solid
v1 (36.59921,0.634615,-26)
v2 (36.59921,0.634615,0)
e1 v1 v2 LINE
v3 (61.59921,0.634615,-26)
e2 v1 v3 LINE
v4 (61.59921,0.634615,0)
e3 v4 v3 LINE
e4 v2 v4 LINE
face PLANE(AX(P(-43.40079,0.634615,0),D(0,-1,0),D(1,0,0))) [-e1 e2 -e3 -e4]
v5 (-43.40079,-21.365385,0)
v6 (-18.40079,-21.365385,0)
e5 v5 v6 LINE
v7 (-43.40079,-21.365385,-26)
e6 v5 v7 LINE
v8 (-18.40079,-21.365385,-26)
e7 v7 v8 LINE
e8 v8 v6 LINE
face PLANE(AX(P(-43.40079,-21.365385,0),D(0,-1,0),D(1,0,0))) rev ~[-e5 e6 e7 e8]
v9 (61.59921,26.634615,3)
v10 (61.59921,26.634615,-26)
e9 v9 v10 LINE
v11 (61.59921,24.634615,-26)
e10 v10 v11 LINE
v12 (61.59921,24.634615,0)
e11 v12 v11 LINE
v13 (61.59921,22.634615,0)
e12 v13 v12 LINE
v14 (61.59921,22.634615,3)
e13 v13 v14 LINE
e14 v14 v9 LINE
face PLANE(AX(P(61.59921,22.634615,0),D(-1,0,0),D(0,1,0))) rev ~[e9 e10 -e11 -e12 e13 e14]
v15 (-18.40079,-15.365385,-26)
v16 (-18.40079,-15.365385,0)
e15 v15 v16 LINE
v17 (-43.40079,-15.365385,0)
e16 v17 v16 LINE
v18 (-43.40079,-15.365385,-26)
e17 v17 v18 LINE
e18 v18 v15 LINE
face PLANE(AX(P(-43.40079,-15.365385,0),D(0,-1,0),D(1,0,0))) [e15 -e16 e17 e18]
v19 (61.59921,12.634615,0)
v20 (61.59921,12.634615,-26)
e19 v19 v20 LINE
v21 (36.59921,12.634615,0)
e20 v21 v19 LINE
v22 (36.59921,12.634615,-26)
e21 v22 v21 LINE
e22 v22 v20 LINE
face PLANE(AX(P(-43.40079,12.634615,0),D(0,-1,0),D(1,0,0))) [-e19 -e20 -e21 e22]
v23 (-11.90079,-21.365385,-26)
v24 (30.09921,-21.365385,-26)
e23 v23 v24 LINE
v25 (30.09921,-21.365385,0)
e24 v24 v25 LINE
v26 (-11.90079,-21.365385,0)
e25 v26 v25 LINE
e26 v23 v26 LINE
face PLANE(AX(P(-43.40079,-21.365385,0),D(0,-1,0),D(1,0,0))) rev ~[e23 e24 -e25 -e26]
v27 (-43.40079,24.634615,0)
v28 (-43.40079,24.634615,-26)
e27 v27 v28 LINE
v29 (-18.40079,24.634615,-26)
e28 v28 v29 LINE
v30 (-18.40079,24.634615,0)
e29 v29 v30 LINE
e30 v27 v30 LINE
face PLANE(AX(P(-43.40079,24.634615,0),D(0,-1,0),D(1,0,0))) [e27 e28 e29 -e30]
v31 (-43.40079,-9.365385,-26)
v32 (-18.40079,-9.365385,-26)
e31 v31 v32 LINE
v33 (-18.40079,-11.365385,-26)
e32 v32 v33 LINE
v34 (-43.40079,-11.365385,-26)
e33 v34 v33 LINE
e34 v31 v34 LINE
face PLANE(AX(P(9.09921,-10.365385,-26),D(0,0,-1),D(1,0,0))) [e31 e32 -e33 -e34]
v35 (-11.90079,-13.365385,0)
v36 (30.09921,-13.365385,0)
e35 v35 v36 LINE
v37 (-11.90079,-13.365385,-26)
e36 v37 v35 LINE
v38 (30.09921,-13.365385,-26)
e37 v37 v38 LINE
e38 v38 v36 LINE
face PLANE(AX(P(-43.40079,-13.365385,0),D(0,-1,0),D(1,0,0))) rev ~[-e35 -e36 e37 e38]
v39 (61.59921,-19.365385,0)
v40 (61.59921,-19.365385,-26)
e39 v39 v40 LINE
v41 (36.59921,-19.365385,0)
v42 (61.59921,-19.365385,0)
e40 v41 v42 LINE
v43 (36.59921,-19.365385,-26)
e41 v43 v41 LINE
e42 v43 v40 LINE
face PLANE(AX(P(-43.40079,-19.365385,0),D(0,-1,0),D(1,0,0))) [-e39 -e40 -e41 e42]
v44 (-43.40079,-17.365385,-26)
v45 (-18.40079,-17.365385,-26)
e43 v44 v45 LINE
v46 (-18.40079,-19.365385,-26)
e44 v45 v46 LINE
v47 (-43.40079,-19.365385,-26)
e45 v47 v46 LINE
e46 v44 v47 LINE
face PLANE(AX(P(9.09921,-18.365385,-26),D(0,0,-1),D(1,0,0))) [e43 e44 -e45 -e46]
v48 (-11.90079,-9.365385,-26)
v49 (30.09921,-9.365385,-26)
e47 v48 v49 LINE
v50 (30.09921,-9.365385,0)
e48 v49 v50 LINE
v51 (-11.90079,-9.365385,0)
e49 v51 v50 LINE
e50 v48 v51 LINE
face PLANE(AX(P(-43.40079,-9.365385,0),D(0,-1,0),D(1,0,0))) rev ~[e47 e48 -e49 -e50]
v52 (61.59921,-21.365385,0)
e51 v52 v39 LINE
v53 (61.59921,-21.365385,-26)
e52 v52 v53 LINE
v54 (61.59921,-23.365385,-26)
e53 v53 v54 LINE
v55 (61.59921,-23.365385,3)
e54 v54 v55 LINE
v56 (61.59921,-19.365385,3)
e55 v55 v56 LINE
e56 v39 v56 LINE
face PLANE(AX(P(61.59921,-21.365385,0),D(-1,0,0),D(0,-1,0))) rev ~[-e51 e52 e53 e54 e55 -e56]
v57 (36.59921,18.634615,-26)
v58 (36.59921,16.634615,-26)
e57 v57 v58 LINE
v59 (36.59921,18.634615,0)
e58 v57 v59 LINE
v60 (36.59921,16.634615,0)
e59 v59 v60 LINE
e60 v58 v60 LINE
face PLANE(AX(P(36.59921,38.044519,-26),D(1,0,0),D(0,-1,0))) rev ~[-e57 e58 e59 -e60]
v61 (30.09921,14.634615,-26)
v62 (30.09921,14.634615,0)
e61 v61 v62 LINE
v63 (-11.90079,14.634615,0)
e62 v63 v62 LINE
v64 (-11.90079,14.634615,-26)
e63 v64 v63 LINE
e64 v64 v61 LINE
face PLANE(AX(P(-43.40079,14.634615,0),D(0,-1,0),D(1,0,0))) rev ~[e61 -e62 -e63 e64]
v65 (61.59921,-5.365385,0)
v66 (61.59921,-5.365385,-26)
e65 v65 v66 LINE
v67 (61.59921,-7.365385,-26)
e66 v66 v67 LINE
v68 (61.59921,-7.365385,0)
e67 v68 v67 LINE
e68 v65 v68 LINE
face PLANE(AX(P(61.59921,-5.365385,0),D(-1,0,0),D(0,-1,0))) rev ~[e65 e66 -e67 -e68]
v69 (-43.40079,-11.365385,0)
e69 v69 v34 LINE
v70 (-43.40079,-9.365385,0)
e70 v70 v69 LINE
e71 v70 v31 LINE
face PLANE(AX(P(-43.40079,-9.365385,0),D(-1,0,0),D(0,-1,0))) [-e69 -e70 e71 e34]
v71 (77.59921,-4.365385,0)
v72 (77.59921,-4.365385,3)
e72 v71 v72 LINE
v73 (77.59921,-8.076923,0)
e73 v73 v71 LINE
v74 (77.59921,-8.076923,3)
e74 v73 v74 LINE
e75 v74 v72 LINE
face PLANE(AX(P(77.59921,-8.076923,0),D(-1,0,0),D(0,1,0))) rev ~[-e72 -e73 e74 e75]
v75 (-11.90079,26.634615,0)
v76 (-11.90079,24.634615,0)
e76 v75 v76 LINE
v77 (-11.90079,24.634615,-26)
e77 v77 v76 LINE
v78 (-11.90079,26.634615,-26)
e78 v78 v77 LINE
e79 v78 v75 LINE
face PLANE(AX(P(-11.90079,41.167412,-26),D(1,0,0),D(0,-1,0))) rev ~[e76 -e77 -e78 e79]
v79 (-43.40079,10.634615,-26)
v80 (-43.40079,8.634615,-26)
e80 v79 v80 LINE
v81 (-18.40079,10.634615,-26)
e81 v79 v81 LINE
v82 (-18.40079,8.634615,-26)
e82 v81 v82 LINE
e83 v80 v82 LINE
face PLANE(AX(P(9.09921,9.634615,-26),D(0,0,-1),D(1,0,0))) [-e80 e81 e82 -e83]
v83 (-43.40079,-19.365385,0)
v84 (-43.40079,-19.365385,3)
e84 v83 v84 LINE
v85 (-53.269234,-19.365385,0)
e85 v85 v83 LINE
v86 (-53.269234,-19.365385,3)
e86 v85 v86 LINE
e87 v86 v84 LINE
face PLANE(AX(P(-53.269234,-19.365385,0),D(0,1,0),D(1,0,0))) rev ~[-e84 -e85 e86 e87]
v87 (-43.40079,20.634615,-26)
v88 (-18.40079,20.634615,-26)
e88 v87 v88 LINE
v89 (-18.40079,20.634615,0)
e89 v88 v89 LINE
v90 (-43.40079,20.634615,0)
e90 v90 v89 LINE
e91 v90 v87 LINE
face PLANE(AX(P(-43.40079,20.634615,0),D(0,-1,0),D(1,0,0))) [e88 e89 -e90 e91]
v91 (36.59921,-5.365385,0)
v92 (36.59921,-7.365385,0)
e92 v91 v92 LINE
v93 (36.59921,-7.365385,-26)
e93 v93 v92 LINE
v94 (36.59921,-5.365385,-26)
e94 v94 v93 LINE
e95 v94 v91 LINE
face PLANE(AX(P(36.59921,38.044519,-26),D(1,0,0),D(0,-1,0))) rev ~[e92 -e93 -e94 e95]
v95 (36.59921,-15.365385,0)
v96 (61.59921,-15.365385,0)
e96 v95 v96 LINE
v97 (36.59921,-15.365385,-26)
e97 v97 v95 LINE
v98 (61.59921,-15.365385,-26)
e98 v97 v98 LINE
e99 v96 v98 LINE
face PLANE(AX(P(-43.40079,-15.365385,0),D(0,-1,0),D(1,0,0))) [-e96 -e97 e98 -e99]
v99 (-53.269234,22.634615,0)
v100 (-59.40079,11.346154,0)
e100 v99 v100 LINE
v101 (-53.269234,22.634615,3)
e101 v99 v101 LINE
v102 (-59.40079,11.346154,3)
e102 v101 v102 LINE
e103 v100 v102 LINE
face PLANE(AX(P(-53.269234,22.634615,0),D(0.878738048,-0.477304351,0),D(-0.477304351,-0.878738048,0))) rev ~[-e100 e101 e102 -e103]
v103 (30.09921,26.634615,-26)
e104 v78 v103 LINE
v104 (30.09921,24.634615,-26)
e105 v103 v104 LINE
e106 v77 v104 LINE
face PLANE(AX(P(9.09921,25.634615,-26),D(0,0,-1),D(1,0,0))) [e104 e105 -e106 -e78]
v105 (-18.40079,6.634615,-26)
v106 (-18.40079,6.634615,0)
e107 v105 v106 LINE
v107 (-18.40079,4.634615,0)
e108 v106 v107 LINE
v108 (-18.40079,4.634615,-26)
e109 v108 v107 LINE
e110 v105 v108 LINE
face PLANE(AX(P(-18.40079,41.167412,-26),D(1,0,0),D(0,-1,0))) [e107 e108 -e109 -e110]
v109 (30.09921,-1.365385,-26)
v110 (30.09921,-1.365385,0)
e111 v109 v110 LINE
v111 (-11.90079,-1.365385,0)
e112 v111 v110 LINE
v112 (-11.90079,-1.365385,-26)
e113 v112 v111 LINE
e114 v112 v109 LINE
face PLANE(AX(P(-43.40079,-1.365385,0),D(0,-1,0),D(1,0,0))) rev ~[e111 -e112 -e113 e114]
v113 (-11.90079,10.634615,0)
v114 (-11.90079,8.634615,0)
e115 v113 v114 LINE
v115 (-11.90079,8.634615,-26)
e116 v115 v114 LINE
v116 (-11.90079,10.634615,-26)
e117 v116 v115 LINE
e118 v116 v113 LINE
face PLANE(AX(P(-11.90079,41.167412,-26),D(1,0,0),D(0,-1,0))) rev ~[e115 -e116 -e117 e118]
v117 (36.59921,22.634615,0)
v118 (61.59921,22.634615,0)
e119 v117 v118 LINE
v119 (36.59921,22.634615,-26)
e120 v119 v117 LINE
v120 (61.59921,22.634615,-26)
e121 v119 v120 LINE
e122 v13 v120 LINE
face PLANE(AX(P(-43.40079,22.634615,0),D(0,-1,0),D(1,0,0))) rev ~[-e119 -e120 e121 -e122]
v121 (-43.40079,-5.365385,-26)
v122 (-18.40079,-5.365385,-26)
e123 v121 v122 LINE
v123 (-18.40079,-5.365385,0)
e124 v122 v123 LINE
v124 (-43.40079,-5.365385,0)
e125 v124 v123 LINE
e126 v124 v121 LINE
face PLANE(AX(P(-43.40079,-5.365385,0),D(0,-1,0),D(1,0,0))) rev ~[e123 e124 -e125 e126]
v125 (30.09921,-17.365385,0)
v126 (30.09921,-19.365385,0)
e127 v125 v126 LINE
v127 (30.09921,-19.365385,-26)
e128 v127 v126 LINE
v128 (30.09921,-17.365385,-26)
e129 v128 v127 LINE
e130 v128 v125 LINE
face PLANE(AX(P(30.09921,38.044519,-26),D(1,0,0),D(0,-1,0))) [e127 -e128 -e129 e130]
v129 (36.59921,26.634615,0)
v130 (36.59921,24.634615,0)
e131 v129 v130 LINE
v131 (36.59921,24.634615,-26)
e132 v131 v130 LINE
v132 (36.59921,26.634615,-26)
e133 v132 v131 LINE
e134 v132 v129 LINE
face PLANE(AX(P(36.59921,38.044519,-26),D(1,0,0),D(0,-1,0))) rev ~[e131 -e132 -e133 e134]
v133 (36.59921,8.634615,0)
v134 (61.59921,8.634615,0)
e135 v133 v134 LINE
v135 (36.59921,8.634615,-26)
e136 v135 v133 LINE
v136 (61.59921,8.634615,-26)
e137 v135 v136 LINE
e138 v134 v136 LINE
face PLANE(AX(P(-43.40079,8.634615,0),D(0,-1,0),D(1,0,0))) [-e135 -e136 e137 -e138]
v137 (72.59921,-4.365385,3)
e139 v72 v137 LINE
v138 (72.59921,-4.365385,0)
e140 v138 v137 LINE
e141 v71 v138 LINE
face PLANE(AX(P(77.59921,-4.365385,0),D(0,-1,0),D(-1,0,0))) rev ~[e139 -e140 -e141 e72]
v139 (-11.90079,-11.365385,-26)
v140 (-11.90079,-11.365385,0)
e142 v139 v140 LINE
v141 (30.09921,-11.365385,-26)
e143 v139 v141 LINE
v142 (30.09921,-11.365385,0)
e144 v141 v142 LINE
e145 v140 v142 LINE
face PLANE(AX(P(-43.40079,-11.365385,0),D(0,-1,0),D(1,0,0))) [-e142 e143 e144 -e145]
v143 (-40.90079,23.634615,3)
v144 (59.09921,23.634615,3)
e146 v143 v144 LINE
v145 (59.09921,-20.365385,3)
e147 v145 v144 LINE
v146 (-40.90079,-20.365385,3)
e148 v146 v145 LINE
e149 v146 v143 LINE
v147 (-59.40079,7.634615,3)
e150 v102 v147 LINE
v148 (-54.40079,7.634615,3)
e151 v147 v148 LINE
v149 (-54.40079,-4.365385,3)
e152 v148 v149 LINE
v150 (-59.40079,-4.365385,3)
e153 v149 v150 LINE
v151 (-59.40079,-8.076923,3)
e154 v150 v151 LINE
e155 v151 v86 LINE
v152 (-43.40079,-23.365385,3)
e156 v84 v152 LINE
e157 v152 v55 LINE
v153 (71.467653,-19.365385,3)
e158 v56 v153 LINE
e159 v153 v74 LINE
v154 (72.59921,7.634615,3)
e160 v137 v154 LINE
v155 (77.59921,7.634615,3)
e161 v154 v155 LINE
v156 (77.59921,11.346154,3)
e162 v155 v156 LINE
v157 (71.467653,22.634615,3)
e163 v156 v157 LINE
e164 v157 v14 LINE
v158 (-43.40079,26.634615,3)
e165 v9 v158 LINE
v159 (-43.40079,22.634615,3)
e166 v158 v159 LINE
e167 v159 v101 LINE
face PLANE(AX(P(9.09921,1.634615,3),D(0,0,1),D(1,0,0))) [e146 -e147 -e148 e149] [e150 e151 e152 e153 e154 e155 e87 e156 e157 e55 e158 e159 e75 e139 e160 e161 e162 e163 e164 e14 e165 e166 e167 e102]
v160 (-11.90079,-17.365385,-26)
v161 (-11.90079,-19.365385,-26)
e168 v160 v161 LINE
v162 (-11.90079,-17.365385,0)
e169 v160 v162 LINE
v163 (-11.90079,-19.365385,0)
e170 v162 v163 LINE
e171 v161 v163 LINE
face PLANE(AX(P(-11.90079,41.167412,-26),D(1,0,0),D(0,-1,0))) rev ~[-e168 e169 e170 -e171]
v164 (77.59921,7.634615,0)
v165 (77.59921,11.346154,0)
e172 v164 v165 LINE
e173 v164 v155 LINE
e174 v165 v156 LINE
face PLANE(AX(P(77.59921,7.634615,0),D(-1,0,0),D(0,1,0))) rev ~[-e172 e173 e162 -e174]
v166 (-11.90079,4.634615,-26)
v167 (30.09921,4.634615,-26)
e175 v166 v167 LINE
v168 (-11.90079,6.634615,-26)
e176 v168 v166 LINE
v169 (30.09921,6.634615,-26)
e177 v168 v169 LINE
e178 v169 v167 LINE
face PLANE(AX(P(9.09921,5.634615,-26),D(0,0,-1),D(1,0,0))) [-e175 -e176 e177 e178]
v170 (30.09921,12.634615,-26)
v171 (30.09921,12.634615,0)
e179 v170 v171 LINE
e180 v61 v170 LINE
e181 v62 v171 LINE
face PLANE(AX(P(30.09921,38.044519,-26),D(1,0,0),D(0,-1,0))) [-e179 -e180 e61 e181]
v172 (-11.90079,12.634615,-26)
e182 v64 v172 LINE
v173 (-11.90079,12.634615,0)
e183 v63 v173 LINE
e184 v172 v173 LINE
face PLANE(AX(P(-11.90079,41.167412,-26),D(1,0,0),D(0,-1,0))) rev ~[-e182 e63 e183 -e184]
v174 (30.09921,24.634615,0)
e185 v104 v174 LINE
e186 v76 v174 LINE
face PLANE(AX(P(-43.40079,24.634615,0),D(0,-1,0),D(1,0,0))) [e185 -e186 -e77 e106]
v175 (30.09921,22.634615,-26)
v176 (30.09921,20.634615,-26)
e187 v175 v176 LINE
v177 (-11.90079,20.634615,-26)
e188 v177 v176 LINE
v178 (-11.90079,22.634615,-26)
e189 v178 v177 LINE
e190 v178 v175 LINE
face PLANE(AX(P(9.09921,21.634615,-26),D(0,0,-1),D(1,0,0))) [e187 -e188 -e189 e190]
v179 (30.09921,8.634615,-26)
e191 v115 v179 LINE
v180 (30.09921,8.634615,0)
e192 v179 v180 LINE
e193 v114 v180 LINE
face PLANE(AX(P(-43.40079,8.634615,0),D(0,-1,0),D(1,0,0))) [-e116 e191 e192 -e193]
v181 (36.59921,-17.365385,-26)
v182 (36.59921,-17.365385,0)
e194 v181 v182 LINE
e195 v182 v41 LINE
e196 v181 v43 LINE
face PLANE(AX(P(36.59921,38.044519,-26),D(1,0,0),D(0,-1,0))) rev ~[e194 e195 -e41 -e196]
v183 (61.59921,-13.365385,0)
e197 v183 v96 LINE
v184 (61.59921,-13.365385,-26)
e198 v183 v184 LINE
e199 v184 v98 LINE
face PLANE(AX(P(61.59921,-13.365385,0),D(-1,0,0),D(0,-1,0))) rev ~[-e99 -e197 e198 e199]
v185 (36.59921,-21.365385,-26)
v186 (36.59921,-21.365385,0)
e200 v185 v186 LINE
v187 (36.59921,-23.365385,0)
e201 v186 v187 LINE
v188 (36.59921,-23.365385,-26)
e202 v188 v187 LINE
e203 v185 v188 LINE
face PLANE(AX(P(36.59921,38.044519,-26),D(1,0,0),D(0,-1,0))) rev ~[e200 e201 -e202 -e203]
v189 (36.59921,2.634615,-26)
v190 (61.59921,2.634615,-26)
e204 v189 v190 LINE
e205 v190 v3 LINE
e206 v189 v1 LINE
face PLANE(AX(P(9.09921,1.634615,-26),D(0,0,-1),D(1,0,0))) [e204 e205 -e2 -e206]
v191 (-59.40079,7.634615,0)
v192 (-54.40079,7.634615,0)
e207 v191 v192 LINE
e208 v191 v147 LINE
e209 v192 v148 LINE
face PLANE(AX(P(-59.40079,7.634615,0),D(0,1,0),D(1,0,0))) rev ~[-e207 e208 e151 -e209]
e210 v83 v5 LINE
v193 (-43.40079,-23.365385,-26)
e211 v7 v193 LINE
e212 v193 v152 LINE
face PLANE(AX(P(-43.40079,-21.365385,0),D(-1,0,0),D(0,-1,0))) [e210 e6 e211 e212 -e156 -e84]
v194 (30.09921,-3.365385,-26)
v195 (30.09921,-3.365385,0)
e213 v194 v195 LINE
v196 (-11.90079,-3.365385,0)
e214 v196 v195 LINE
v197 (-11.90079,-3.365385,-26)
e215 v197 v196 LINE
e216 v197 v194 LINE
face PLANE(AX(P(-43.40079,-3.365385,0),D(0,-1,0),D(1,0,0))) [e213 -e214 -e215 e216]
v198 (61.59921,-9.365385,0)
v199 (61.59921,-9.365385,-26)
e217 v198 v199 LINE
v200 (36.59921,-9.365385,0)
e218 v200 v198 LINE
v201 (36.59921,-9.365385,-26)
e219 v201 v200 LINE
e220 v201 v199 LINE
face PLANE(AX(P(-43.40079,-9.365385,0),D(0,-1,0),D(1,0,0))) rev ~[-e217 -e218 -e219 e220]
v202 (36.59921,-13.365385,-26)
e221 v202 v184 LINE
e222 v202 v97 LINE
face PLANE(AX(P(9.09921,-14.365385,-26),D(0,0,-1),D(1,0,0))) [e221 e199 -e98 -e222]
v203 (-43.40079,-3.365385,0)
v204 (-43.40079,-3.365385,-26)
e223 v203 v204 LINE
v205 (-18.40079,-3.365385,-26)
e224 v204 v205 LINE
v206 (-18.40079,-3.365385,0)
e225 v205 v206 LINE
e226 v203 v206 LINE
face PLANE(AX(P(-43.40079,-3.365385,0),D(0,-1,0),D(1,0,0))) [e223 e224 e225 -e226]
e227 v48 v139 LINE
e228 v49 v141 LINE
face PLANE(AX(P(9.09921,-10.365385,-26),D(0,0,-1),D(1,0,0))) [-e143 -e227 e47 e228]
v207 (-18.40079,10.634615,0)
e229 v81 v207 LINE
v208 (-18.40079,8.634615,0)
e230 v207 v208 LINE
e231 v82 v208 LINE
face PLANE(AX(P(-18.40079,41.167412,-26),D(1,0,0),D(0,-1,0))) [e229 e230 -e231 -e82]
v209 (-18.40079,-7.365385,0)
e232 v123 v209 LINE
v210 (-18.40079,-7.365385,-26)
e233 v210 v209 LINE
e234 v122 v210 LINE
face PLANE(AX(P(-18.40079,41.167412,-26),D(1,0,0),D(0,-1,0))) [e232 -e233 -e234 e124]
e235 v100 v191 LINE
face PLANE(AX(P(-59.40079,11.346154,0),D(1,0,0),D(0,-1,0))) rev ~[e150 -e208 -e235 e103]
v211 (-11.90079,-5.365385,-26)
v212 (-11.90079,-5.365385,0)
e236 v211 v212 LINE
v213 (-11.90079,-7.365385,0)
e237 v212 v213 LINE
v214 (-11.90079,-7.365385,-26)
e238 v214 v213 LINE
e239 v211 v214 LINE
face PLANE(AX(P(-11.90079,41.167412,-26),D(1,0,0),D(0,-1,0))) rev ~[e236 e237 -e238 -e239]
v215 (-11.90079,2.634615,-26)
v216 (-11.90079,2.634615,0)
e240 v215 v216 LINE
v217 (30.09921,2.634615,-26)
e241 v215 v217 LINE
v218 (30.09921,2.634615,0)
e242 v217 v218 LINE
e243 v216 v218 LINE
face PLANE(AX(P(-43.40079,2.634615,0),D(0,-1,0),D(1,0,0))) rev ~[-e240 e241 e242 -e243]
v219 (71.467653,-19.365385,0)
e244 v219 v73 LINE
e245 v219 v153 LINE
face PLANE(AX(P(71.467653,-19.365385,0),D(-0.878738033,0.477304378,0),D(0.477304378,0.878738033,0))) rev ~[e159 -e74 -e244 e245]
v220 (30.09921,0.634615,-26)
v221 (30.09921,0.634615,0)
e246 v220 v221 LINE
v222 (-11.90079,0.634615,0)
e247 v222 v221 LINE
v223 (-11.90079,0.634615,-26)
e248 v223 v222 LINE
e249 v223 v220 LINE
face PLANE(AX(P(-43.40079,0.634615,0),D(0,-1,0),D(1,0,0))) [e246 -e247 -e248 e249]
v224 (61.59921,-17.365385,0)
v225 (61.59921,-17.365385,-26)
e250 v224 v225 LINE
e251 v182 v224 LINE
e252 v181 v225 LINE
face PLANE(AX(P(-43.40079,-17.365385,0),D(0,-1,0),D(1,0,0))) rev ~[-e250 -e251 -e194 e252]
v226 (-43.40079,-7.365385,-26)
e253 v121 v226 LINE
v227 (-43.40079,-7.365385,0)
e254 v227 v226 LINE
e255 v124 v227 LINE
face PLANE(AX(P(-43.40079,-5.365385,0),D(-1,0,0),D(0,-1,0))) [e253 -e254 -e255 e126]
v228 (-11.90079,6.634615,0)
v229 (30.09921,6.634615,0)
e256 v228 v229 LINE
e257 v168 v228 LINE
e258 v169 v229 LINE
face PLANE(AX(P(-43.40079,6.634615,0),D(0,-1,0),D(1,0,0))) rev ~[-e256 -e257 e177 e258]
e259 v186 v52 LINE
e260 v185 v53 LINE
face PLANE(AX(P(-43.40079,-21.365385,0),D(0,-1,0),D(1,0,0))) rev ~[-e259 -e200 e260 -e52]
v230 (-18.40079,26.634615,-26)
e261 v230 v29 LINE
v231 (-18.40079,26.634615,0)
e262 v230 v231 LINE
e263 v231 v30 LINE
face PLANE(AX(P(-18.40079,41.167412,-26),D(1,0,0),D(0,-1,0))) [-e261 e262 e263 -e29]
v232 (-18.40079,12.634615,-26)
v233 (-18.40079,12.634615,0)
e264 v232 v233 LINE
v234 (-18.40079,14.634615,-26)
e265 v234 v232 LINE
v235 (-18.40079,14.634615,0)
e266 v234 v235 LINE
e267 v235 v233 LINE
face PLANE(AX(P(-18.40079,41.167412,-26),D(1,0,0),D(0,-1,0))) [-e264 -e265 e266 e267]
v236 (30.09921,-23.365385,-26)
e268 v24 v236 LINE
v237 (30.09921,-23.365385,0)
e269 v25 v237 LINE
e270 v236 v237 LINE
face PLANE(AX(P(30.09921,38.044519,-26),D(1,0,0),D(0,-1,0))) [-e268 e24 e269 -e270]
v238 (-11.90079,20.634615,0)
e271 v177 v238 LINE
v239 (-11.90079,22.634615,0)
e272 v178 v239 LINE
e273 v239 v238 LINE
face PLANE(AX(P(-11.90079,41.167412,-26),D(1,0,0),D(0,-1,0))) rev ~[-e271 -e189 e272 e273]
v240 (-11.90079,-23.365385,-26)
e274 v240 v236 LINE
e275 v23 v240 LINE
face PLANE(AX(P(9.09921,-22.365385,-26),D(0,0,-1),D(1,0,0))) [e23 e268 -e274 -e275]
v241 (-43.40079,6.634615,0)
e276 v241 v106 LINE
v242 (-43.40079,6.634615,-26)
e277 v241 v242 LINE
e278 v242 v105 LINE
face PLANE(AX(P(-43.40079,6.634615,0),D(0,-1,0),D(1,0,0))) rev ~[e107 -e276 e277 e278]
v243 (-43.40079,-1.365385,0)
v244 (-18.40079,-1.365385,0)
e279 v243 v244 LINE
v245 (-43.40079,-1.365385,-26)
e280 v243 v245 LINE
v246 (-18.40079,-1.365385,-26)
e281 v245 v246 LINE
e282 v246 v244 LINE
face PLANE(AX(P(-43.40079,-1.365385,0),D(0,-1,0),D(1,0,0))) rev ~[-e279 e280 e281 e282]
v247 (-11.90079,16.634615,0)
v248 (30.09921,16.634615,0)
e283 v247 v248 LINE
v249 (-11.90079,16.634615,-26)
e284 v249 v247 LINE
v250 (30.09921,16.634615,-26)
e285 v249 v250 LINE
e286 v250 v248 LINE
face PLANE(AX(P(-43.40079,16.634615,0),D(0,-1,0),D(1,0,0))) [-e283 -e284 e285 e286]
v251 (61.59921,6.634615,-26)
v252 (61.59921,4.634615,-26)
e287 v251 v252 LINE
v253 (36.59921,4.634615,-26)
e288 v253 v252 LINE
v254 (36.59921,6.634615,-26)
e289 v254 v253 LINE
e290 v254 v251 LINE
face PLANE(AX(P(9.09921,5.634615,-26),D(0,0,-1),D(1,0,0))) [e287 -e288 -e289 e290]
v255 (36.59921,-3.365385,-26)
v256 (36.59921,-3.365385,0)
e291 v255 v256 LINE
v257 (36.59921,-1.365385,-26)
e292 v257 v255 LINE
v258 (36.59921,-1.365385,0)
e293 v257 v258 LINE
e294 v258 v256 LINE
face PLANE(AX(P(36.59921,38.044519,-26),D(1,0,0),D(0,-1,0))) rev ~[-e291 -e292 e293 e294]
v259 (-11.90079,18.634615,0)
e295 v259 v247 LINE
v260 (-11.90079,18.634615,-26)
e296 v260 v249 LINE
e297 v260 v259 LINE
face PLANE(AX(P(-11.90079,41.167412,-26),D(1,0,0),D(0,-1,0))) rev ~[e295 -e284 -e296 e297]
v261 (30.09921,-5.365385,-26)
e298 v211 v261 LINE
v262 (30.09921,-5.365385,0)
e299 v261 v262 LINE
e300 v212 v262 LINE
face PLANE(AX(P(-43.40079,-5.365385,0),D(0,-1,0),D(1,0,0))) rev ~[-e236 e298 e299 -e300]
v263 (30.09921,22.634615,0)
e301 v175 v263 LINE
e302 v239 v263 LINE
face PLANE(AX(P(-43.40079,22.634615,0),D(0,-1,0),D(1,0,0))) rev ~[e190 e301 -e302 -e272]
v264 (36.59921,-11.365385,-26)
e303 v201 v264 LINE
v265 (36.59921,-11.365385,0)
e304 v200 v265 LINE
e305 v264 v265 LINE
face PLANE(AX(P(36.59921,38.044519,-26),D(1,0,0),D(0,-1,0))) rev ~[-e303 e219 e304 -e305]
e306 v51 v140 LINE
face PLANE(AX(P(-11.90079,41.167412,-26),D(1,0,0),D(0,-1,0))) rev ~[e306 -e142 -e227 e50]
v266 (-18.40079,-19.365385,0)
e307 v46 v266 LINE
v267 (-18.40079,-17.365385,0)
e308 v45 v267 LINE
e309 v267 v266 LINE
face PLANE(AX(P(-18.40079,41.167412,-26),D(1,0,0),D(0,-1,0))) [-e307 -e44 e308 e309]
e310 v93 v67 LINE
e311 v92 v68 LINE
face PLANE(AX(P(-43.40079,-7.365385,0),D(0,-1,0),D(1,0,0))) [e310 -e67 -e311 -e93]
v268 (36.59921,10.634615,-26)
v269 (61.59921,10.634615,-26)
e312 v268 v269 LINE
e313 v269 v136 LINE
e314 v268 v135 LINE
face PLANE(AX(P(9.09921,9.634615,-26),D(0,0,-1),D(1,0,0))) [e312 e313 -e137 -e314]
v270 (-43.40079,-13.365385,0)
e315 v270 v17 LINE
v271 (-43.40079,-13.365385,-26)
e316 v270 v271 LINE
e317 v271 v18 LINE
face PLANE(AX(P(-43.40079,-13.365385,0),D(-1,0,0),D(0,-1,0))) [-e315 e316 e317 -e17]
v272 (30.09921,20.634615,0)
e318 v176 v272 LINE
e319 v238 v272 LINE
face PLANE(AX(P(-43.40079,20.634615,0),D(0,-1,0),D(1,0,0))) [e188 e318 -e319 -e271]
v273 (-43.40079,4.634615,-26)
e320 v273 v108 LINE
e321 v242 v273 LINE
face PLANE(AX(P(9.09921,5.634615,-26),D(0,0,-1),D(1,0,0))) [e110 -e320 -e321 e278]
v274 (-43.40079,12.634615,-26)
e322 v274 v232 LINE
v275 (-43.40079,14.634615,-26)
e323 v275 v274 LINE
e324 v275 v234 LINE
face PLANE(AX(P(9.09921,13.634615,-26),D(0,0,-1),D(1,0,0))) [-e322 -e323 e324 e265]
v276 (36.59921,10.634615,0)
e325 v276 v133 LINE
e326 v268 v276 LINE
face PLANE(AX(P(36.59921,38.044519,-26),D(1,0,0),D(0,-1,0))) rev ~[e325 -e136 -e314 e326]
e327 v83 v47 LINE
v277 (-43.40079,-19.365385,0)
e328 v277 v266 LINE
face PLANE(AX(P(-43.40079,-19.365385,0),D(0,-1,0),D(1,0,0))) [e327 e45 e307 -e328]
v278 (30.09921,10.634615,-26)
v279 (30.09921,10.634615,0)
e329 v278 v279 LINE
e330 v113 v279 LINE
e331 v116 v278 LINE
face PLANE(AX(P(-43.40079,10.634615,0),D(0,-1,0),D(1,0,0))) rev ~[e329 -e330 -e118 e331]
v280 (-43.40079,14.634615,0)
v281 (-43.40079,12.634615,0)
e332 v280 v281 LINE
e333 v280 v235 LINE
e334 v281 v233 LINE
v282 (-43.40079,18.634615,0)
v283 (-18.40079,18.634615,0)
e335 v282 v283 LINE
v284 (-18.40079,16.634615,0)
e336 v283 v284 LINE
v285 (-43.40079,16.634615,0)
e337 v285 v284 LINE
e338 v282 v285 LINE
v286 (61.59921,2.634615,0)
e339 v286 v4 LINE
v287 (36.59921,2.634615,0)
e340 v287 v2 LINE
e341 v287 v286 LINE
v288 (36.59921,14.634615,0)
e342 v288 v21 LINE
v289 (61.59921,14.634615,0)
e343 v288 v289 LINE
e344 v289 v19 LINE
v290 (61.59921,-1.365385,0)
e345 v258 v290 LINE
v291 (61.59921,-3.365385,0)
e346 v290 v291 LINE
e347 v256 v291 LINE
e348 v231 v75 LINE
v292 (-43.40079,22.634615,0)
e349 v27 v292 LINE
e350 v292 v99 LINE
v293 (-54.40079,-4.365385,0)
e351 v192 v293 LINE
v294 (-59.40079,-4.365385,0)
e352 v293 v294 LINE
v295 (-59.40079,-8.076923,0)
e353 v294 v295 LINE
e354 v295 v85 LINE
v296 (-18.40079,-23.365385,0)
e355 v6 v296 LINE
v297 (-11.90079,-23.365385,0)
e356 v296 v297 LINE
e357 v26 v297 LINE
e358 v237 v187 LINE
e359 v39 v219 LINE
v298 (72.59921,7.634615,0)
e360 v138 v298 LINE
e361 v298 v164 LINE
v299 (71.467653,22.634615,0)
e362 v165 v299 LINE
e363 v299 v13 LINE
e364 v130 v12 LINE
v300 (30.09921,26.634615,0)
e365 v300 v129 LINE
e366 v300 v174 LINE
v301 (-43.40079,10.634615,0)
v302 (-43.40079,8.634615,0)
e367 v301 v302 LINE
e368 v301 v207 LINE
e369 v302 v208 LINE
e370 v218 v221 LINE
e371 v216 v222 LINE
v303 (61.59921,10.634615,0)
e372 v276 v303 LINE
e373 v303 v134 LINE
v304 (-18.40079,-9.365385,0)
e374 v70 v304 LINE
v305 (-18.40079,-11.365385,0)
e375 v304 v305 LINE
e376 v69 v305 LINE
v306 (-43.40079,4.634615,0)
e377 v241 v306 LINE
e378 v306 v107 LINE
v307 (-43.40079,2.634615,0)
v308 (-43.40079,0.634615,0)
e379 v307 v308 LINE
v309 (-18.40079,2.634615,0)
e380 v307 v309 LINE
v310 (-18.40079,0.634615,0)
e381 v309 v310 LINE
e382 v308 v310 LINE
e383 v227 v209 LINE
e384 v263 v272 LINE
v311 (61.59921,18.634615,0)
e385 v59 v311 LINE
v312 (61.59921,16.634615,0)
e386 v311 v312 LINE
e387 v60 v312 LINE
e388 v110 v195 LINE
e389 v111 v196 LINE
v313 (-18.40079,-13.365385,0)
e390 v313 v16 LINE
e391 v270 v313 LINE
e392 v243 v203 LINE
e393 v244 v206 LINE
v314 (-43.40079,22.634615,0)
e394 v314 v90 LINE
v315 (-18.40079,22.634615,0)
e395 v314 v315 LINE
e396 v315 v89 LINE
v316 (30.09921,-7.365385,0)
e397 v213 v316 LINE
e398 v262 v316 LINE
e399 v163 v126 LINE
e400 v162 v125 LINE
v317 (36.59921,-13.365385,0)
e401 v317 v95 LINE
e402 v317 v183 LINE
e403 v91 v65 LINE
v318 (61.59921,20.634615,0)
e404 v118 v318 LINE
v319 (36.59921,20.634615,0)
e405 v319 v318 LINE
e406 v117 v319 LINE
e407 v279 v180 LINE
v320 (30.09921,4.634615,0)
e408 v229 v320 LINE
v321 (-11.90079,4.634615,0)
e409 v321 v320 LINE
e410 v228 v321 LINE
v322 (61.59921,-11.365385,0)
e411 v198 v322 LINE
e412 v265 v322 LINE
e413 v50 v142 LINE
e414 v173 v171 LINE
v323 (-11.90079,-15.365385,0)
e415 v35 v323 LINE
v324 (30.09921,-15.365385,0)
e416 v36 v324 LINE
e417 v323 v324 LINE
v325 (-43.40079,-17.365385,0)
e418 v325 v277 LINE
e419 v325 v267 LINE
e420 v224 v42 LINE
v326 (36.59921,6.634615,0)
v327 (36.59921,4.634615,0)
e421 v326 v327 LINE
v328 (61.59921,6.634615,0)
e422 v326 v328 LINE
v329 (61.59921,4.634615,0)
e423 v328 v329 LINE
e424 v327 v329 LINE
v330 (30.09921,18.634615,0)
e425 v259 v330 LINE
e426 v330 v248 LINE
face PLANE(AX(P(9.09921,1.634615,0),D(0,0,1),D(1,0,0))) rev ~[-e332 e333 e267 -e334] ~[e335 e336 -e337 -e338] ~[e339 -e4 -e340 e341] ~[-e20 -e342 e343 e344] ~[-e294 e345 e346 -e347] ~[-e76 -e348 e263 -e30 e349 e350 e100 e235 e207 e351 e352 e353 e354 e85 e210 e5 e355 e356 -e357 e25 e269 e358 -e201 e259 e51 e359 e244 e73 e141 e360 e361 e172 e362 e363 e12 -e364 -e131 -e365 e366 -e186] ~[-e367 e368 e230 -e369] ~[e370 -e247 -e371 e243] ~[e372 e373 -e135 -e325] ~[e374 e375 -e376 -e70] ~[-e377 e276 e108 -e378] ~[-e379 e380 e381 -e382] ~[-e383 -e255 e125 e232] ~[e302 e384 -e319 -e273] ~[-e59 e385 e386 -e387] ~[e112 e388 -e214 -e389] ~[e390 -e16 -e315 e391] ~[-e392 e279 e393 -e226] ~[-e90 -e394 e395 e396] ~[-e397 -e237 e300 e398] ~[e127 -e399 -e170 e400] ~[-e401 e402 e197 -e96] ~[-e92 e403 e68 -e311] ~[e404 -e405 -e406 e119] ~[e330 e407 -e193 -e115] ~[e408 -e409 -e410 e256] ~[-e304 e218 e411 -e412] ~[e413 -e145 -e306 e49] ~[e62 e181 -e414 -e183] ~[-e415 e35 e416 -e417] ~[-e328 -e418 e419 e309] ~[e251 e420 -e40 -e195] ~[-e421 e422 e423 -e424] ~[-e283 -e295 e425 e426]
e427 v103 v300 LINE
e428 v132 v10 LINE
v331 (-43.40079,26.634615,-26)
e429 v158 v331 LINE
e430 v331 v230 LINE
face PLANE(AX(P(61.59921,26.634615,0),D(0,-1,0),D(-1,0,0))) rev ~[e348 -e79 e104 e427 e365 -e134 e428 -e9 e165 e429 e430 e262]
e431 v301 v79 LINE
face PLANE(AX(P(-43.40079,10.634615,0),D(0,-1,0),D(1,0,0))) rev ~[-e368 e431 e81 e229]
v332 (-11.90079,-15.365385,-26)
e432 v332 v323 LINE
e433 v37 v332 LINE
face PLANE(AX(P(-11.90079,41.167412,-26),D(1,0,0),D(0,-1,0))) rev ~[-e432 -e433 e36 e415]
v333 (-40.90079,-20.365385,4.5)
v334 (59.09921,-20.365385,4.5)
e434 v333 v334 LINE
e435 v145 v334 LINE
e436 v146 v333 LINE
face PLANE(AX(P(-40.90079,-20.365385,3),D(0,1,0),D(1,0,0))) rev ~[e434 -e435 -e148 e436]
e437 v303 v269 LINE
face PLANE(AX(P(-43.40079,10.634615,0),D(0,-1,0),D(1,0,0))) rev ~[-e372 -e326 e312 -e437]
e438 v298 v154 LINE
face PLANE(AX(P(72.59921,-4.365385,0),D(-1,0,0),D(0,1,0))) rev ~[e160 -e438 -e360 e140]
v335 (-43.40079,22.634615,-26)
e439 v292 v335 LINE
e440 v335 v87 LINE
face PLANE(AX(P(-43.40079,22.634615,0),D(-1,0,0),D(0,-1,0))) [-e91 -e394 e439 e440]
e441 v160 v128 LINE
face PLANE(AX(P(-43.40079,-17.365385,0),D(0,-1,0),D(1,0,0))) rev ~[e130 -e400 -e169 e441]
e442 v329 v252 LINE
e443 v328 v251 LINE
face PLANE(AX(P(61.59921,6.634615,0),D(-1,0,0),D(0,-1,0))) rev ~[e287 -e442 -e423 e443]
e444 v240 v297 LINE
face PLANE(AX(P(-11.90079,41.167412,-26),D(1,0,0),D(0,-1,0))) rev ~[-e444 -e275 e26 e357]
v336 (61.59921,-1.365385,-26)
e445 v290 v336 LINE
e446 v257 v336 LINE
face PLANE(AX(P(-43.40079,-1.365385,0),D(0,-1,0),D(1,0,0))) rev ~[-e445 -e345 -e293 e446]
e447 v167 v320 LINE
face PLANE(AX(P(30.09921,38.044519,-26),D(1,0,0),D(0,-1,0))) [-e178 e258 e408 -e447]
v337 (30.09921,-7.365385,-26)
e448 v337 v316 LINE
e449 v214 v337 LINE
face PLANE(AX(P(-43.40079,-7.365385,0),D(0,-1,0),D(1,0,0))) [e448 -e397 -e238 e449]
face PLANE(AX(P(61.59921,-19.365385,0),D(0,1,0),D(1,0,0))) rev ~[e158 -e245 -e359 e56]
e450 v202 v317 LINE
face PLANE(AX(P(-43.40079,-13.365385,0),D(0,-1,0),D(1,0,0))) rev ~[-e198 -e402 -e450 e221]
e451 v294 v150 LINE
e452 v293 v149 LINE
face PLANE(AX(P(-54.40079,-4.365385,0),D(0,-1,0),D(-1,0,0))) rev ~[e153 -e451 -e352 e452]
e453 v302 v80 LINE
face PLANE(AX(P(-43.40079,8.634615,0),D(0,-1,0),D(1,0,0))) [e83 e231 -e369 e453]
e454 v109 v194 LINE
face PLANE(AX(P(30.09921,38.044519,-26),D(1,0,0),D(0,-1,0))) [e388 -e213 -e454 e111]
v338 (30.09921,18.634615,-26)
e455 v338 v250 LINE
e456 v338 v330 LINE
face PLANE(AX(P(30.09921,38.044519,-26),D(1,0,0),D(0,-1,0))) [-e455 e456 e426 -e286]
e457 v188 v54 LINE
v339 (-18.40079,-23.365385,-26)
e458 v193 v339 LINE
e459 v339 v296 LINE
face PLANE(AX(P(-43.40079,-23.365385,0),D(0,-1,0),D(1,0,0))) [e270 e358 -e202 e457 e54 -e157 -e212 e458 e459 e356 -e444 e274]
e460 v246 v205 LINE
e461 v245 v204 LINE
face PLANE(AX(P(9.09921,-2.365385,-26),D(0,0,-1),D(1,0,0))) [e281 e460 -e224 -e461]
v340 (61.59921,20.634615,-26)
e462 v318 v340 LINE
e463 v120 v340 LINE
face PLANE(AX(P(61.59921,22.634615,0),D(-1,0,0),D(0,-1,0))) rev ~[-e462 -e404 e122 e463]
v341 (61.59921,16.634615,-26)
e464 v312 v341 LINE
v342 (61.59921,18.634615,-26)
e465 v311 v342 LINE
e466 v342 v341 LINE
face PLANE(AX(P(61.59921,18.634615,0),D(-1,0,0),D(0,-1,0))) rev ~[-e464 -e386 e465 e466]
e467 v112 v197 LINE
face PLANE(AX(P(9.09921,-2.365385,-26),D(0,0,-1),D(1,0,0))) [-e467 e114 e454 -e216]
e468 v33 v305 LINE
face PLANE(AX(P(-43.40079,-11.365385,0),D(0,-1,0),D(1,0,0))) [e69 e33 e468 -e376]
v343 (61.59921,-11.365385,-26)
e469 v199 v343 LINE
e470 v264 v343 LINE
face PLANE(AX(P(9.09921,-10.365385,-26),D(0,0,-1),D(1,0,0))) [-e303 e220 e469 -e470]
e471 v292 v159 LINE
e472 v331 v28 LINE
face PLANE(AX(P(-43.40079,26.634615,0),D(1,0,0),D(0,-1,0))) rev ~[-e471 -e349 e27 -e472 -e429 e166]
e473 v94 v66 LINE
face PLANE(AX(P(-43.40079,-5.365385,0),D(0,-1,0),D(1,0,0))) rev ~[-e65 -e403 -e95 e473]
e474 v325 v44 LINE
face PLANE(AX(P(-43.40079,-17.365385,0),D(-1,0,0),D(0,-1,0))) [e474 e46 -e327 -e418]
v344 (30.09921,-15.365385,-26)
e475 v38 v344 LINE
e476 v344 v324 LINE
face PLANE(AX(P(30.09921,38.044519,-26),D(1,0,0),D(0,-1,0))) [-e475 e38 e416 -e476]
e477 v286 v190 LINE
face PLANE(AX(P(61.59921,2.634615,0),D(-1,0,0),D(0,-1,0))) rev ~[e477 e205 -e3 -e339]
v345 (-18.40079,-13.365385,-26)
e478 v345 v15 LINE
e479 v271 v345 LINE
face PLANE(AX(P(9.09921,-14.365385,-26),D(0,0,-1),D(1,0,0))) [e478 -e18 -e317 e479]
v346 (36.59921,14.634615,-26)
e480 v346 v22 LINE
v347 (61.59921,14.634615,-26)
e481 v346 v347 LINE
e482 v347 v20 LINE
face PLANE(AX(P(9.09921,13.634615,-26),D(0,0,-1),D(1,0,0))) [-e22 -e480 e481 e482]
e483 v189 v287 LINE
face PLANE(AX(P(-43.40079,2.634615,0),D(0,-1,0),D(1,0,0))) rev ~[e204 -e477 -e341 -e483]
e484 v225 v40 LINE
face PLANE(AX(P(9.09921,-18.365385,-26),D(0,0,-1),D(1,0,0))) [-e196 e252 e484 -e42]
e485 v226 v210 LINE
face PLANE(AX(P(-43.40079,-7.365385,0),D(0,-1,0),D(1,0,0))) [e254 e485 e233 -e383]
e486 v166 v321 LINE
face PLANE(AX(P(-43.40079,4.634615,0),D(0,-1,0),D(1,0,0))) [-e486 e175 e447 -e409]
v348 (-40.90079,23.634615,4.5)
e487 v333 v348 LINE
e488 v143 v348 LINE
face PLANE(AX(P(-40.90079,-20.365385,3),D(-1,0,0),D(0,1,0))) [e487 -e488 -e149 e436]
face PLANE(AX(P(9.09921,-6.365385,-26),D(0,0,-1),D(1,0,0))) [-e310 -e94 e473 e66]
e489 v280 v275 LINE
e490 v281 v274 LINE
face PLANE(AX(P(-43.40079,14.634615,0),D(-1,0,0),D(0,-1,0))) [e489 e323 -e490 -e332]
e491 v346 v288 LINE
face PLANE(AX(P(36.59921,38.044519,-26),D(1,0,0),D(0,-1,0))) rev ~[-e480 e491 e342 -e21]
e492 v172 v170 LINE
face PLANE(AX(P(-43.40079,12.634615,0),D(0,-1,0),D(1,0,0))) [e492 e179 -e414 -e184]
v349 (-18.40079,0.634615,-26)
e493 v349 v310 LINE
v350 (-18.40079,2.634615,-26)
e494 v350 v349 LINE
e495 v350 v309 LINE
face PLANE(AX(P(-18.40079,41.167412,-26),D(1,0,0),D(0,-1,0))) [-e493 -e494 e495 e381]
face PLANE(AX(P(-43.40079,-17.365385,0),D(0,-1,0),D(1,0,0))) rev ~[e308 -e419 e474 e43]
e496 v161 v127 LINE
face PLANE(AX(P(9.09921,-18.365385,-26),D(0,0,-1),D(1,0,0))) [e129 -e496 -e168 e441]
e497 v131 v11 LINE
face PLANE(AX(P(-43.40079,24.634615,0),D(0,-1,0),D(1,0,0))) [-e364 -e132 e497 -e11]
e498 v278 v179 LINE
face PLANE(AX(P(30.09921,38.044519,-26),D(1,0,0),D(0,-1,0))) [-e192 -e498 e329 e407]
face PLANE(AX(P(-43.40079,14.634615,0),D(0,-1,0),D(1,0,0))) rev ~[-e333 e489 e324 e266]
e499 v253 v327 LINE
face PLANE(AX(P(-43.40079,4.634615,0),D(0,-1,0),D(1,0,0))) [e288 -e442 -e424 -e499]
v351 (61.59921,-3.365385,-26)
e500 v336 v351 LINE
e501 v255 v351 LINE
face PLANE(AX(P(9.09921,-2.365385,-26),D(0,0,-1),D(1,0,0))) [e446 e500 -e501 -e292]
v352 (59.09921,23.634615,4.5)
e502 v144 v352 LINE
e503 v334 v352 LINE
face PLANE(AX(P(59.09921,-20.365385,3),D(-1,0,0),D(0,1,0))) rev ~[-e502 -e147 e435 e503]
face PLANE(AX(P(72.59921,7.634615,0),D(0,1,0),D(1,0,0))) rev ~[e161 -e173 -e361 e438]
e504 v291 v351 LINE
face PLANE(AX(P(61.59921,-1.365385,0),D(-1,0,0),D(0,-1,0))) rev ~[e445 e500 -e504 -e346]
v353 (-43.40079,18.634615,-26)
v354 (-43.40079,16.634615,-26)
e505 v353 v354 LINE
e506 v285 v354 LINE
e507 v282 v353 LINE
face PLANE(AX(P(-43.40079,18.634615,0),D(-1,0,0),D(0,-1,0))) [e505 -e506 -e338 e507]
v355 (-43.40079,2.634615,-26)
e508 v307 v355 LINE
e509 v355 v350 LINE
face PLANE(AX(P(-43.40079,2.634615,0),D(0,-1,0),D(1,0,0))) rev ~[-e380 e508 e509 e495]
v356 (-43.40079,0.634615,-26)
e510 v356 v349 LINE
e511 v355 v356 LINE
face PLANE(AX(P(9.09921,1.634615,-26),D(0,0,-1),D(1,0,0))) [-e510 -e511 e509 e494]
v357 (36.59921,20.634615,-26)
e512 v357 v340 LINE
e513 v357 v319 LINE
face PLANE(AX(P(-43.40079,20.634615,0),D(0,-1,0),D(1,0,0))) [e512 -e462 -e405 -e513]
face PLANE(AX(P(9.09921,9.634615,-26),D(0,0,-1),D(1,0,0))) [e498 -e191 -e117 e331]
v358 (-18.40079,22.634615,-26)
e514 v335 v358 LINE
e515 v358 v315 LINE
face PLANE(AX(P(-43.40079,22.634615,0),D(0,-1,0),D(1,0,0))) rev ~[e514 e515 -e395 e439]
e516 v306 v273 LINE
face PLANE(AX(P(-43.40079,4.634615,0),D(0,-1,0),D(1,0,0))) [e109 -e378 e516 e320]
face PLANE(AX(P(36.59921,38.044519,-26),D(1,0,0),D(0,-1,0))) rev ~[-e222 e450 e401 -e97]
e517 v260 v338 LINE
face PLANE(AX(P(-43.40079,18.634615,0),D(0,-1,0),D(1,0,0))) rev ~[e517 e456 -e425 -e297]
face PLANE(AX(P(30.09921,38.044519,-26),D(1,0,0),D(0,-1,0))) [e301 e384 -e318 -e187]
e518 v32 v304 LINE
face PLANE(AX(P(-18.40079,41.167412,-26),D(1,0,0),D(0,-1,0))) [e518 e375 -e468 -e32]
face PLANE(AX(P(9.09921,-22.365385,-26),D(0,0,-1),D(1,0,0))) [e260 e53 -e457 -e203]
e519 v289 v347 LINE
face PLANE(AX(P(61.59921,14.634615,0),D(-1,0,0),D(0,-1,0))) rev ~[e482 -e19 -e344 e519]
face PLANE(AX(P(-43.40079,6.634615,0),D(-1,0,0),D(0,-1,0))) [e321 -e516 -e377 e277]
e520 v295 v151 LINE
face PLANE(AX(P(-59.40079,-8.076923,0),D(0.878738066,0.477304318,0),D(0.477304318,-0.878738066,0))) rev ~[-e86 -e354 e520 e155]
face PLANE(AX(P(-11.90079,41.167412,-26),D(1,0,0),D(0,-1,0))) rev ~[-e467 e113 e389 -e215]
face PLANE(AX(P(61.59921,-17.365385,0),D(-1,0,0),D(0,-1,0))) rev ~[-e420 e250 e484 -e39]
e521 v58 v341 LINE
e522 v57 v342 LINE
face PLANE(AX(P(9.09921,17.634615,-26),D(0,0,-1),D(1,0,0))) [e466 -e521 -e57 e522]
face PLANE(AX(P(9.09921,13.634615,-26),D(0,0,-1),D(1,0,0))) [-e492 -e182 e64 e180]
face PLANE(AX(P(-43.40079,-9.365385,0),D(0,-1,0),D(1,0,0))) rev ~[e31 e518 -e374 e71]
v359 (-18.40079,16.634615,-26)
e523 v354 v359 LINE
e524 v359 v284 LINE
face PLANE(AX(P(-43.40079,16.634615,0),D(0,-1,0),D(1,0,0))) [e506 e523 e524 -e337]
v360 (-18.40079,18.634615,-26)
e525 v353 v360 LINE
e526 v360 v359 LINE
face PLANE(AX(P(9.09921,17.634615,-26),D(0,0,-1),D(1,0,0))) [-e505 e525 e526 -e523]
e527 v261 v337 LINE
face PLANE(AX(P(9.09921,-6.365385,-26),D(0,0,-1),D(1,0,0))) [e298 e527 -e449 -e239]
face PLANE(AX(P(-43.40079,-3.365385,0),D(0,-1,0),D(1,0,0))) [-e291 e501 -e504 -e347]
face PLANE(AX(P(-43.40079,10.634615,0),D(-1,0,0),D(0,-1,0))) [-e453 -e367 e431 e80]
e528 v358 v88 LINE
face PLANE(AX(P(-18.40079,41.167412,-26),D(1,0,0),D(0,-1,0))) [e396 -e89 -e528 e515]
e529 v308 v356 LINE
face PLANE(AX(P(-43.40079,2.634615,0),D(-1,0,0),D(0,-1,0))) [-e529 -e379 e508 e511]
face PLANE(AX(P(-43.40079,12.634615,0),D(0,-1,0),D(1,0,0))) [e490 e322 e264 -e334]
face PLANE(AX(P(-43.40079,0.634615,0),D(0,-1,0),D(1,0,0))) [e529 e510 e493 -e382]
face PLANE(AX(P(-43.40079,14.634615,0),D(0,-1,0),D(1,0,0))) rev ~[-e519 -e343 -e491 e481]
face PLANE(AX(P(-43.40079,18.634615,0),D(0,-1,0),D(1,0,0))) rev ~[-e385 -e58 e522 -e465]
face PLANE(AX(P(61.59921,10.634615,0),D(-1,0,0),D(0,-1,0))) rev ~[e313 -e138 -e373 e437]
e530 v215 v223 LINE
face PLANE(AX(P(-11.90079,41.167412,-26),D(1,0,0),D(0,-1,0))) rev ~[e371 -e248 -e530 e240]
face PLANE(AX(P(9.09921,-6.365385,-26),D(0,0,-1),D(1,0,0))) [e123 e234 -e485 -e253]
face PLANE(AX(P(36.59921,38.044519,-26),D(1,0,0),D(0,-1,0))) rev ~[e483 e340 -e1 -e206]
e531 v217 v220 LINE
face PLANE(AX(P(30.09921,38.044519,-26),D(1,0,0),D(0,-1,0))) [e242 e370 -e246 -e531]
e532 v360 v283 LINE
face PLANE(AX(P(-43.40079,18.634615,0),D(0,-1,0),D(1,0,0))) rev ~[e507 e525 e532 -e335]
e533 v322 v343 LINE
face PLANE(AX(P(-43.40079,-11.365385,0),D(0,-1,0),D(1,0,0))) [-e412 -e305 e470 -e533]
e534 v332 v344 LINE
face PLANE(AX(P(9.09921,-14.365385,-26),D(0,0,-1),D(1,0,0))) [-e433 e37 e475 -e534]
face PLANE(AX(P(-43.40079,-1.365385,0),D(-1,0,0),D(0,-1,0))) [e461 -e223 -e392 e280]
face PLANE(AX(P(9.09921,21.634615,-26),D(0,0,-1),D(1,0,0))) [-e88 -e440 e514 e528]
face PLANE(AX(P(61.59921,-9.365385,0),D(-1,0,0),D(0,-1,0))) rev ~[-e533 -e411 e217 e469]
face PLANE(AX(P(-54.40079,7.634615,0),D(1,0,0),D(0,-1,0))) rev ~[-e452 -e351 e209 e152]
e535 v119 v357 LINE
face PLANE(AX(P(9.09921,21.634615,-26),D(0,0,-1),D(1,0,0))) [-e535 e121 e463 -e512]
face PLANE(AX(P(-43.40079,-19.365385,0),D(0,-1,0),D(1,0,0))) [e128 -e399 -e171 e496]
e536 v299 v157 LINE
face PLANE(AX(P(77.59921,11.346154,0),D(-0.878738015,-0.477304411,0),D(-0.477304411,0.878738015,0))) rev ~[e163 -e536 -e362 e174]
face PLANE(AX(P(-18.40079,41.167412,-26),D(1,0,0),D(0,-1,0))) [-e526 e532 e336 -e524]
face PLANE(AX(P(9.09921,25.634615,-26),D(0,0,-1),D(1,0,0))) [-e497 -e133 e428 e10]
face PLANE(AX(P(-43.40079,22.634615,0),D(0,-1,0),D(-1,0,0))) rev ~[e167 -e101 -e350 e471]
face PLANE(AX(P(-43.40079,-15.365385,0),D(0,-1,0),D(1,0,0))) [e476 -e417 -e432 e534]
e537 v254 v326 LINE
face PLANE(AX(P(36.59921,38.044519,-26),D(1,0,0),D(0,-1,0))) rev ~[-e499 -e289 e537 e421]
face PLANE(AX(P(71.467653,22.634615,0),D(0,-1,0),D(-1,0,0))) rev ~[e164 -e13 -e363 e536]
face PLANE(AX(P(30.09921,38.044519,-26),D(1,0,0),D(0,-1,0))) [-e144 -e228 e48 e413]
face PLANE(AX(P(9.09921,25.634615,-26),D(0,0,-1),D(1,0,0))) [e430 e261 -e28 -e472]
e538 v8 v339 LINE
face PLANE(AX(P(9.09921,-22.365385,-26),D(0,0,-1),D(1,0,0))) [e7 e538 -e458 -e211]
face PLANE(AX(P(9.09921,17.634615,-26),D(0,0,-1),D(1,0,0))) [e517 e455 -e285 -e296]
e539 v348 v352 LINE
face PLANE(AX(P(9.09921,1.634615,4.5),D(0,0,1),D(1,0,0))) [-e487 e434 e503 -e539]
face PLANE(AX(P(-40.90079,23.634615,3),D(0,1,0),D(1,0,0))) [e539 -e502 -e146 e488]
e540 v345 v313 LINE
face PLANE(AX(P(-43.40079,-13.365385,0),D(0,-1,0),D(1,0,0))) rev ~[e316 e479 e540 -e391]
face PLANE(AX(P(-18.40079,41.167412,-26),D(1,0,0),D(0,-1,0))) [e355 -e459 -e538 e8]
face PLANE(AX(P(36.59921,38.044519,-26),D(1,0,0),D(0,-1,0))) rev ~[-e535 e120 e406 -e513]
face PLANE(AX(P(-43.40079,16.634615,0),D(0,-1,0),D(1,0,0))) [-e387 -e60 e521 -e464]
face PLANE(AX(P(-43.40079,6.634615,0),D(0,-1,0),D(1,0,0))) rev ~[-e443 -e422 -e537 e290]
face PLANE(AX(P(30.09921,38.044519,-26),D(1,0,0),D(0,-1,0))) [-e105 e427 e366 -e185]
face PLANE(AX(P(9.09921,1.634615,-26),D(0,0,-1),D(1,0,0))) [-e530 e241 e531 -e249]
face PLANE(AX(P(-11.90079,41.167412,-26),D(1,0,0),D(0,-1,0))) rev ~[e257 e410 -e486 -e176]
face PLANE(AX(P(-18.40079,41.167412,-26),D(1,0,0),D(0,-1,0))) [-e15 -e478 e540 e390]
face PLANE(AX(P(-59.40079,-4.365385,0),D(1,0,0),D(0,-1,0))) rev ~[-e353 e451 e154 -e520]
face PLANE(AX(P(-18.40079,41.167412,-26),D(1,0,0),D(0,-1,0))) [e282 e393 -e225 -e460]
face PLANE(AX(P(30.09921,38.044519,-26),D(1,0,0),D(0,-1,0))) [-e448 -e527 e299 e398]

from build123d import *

# Parameters (mm, degrees)
F1_DEPTH = 3
F2_W     = 100
F2_H     = 44
F3_DEPTH = 1.5
F4_W     = 105
F4_H     = 2
F5_DEPTH = 26
F6_W     = 6.5
F6_H     = 71.201939
F6_H_2   = 68.703625
F7_DEPTH = 26


with BuildPart() as f1:
    # F0 (on Top) → F1 (new body)
    with BuildSketch(Plane.XY):
        Polygon((9.09921, 26.634615), (-43.40079, 26.634615), (-43.40079, 22.634615), (-53.269234, 22.634615), (-59.40079, 11.346154), (-59.40079, 7.634615), (-54.40079, 7.634615), (-54.40079, 1.634615), (-54.40079, -4.365385), (-59.40079, -4.365385), (-59.40079, -8.076923), (-53.269234, -19.365385), (-43.40079, -19.365385), (-43.40079, -23.365385), (61.59921, -23.365385), (61.59921, -19.365385), (71.467653, -19.365385), (77.59921, -8.076923), (77.59921, -4.365385), (72.59921, -4.365385), (72.59921, 7.634615), (77.59921, 7.634615), (77.59921, 11.346154), (71.467653, 22.634615), (61.59921, 22.634615), (61.59921, 26.634615), align=None)
    extrude(amount=F1_DEPTH)

    # F2 (on face) → F3 (join)
    with BuildSketch(Plane.XY.offset(3)):
        with Locations((9.09921, 1.634615)):
            Rectangle(F2_W, F2_H)
    extrude(amount=F3_DEPTH)

    # F4 (on face) → F5 (join)
    with BuildSketch(Plane(origin=(0, 0, 0), x_dir=(1, 0, 0), z_dir=(0, 0, -1))):
        with Locations((9.09921, 22.365385)):
            Rectangle(F4_W, F4_H)
        with Locations((9.09921, 18.365385)):
            Rectangle(F4_W, F4_H)
        with Locations((9.09921, 14.365385)):
            Rectangle(F4_W, F4_H)
        with Locations((9.09921, 10.365385)):
            Rectangle(F4_W, F4_H)
        with Locations((9.09921, 6.365385)):
            Rectangle(F4_W, F4_H)
        with Locations((9.09921, 2.365385)):
            Rectangle(F4_W, F4_H)
        with Locations((9.09921, -1.634615)):
            Rectangle(F4_W, F4_H)
        with Locations((9.09921, -5.634615)):
            Rectangle(F4_W, F4_H)
        with Locations((9.09921, -9.634615)):
            Rectangle(F4_W, F4_H)
        with Locations((9.09921, -13.634615)):
            Rectangle(F4_W, F4_H)
        with Locations((9.09921, -17.634615)):
            Rectangle(F4_W, F4_H)
        with Locations((9.09921, -21.634615)):
            Rectangle(F4_W, F4_H)
        with Locations((9.09921, -25.634615)):
            Rectangle(F4_W, F4_H)
    extrude(amount=F5_DEPTH)

    # F6 (on face) → F7 (cut)
    with BuildSketch(Plane(origin=(0, 0, -26), x_dir=(1, 0, 0), z_dir=(0, 0, -1))):
        with Locations((-15.15079, -5.566442)):
            Rectangle(F6_W, F6_H)
        with Locations((33.34921, -3.692707)):
            Rectangle(F6_W, F6_H_2)
    extrude(amount=-F7_DEPTH, mode=Mode.SUBTRACT)


solid = f1.part
